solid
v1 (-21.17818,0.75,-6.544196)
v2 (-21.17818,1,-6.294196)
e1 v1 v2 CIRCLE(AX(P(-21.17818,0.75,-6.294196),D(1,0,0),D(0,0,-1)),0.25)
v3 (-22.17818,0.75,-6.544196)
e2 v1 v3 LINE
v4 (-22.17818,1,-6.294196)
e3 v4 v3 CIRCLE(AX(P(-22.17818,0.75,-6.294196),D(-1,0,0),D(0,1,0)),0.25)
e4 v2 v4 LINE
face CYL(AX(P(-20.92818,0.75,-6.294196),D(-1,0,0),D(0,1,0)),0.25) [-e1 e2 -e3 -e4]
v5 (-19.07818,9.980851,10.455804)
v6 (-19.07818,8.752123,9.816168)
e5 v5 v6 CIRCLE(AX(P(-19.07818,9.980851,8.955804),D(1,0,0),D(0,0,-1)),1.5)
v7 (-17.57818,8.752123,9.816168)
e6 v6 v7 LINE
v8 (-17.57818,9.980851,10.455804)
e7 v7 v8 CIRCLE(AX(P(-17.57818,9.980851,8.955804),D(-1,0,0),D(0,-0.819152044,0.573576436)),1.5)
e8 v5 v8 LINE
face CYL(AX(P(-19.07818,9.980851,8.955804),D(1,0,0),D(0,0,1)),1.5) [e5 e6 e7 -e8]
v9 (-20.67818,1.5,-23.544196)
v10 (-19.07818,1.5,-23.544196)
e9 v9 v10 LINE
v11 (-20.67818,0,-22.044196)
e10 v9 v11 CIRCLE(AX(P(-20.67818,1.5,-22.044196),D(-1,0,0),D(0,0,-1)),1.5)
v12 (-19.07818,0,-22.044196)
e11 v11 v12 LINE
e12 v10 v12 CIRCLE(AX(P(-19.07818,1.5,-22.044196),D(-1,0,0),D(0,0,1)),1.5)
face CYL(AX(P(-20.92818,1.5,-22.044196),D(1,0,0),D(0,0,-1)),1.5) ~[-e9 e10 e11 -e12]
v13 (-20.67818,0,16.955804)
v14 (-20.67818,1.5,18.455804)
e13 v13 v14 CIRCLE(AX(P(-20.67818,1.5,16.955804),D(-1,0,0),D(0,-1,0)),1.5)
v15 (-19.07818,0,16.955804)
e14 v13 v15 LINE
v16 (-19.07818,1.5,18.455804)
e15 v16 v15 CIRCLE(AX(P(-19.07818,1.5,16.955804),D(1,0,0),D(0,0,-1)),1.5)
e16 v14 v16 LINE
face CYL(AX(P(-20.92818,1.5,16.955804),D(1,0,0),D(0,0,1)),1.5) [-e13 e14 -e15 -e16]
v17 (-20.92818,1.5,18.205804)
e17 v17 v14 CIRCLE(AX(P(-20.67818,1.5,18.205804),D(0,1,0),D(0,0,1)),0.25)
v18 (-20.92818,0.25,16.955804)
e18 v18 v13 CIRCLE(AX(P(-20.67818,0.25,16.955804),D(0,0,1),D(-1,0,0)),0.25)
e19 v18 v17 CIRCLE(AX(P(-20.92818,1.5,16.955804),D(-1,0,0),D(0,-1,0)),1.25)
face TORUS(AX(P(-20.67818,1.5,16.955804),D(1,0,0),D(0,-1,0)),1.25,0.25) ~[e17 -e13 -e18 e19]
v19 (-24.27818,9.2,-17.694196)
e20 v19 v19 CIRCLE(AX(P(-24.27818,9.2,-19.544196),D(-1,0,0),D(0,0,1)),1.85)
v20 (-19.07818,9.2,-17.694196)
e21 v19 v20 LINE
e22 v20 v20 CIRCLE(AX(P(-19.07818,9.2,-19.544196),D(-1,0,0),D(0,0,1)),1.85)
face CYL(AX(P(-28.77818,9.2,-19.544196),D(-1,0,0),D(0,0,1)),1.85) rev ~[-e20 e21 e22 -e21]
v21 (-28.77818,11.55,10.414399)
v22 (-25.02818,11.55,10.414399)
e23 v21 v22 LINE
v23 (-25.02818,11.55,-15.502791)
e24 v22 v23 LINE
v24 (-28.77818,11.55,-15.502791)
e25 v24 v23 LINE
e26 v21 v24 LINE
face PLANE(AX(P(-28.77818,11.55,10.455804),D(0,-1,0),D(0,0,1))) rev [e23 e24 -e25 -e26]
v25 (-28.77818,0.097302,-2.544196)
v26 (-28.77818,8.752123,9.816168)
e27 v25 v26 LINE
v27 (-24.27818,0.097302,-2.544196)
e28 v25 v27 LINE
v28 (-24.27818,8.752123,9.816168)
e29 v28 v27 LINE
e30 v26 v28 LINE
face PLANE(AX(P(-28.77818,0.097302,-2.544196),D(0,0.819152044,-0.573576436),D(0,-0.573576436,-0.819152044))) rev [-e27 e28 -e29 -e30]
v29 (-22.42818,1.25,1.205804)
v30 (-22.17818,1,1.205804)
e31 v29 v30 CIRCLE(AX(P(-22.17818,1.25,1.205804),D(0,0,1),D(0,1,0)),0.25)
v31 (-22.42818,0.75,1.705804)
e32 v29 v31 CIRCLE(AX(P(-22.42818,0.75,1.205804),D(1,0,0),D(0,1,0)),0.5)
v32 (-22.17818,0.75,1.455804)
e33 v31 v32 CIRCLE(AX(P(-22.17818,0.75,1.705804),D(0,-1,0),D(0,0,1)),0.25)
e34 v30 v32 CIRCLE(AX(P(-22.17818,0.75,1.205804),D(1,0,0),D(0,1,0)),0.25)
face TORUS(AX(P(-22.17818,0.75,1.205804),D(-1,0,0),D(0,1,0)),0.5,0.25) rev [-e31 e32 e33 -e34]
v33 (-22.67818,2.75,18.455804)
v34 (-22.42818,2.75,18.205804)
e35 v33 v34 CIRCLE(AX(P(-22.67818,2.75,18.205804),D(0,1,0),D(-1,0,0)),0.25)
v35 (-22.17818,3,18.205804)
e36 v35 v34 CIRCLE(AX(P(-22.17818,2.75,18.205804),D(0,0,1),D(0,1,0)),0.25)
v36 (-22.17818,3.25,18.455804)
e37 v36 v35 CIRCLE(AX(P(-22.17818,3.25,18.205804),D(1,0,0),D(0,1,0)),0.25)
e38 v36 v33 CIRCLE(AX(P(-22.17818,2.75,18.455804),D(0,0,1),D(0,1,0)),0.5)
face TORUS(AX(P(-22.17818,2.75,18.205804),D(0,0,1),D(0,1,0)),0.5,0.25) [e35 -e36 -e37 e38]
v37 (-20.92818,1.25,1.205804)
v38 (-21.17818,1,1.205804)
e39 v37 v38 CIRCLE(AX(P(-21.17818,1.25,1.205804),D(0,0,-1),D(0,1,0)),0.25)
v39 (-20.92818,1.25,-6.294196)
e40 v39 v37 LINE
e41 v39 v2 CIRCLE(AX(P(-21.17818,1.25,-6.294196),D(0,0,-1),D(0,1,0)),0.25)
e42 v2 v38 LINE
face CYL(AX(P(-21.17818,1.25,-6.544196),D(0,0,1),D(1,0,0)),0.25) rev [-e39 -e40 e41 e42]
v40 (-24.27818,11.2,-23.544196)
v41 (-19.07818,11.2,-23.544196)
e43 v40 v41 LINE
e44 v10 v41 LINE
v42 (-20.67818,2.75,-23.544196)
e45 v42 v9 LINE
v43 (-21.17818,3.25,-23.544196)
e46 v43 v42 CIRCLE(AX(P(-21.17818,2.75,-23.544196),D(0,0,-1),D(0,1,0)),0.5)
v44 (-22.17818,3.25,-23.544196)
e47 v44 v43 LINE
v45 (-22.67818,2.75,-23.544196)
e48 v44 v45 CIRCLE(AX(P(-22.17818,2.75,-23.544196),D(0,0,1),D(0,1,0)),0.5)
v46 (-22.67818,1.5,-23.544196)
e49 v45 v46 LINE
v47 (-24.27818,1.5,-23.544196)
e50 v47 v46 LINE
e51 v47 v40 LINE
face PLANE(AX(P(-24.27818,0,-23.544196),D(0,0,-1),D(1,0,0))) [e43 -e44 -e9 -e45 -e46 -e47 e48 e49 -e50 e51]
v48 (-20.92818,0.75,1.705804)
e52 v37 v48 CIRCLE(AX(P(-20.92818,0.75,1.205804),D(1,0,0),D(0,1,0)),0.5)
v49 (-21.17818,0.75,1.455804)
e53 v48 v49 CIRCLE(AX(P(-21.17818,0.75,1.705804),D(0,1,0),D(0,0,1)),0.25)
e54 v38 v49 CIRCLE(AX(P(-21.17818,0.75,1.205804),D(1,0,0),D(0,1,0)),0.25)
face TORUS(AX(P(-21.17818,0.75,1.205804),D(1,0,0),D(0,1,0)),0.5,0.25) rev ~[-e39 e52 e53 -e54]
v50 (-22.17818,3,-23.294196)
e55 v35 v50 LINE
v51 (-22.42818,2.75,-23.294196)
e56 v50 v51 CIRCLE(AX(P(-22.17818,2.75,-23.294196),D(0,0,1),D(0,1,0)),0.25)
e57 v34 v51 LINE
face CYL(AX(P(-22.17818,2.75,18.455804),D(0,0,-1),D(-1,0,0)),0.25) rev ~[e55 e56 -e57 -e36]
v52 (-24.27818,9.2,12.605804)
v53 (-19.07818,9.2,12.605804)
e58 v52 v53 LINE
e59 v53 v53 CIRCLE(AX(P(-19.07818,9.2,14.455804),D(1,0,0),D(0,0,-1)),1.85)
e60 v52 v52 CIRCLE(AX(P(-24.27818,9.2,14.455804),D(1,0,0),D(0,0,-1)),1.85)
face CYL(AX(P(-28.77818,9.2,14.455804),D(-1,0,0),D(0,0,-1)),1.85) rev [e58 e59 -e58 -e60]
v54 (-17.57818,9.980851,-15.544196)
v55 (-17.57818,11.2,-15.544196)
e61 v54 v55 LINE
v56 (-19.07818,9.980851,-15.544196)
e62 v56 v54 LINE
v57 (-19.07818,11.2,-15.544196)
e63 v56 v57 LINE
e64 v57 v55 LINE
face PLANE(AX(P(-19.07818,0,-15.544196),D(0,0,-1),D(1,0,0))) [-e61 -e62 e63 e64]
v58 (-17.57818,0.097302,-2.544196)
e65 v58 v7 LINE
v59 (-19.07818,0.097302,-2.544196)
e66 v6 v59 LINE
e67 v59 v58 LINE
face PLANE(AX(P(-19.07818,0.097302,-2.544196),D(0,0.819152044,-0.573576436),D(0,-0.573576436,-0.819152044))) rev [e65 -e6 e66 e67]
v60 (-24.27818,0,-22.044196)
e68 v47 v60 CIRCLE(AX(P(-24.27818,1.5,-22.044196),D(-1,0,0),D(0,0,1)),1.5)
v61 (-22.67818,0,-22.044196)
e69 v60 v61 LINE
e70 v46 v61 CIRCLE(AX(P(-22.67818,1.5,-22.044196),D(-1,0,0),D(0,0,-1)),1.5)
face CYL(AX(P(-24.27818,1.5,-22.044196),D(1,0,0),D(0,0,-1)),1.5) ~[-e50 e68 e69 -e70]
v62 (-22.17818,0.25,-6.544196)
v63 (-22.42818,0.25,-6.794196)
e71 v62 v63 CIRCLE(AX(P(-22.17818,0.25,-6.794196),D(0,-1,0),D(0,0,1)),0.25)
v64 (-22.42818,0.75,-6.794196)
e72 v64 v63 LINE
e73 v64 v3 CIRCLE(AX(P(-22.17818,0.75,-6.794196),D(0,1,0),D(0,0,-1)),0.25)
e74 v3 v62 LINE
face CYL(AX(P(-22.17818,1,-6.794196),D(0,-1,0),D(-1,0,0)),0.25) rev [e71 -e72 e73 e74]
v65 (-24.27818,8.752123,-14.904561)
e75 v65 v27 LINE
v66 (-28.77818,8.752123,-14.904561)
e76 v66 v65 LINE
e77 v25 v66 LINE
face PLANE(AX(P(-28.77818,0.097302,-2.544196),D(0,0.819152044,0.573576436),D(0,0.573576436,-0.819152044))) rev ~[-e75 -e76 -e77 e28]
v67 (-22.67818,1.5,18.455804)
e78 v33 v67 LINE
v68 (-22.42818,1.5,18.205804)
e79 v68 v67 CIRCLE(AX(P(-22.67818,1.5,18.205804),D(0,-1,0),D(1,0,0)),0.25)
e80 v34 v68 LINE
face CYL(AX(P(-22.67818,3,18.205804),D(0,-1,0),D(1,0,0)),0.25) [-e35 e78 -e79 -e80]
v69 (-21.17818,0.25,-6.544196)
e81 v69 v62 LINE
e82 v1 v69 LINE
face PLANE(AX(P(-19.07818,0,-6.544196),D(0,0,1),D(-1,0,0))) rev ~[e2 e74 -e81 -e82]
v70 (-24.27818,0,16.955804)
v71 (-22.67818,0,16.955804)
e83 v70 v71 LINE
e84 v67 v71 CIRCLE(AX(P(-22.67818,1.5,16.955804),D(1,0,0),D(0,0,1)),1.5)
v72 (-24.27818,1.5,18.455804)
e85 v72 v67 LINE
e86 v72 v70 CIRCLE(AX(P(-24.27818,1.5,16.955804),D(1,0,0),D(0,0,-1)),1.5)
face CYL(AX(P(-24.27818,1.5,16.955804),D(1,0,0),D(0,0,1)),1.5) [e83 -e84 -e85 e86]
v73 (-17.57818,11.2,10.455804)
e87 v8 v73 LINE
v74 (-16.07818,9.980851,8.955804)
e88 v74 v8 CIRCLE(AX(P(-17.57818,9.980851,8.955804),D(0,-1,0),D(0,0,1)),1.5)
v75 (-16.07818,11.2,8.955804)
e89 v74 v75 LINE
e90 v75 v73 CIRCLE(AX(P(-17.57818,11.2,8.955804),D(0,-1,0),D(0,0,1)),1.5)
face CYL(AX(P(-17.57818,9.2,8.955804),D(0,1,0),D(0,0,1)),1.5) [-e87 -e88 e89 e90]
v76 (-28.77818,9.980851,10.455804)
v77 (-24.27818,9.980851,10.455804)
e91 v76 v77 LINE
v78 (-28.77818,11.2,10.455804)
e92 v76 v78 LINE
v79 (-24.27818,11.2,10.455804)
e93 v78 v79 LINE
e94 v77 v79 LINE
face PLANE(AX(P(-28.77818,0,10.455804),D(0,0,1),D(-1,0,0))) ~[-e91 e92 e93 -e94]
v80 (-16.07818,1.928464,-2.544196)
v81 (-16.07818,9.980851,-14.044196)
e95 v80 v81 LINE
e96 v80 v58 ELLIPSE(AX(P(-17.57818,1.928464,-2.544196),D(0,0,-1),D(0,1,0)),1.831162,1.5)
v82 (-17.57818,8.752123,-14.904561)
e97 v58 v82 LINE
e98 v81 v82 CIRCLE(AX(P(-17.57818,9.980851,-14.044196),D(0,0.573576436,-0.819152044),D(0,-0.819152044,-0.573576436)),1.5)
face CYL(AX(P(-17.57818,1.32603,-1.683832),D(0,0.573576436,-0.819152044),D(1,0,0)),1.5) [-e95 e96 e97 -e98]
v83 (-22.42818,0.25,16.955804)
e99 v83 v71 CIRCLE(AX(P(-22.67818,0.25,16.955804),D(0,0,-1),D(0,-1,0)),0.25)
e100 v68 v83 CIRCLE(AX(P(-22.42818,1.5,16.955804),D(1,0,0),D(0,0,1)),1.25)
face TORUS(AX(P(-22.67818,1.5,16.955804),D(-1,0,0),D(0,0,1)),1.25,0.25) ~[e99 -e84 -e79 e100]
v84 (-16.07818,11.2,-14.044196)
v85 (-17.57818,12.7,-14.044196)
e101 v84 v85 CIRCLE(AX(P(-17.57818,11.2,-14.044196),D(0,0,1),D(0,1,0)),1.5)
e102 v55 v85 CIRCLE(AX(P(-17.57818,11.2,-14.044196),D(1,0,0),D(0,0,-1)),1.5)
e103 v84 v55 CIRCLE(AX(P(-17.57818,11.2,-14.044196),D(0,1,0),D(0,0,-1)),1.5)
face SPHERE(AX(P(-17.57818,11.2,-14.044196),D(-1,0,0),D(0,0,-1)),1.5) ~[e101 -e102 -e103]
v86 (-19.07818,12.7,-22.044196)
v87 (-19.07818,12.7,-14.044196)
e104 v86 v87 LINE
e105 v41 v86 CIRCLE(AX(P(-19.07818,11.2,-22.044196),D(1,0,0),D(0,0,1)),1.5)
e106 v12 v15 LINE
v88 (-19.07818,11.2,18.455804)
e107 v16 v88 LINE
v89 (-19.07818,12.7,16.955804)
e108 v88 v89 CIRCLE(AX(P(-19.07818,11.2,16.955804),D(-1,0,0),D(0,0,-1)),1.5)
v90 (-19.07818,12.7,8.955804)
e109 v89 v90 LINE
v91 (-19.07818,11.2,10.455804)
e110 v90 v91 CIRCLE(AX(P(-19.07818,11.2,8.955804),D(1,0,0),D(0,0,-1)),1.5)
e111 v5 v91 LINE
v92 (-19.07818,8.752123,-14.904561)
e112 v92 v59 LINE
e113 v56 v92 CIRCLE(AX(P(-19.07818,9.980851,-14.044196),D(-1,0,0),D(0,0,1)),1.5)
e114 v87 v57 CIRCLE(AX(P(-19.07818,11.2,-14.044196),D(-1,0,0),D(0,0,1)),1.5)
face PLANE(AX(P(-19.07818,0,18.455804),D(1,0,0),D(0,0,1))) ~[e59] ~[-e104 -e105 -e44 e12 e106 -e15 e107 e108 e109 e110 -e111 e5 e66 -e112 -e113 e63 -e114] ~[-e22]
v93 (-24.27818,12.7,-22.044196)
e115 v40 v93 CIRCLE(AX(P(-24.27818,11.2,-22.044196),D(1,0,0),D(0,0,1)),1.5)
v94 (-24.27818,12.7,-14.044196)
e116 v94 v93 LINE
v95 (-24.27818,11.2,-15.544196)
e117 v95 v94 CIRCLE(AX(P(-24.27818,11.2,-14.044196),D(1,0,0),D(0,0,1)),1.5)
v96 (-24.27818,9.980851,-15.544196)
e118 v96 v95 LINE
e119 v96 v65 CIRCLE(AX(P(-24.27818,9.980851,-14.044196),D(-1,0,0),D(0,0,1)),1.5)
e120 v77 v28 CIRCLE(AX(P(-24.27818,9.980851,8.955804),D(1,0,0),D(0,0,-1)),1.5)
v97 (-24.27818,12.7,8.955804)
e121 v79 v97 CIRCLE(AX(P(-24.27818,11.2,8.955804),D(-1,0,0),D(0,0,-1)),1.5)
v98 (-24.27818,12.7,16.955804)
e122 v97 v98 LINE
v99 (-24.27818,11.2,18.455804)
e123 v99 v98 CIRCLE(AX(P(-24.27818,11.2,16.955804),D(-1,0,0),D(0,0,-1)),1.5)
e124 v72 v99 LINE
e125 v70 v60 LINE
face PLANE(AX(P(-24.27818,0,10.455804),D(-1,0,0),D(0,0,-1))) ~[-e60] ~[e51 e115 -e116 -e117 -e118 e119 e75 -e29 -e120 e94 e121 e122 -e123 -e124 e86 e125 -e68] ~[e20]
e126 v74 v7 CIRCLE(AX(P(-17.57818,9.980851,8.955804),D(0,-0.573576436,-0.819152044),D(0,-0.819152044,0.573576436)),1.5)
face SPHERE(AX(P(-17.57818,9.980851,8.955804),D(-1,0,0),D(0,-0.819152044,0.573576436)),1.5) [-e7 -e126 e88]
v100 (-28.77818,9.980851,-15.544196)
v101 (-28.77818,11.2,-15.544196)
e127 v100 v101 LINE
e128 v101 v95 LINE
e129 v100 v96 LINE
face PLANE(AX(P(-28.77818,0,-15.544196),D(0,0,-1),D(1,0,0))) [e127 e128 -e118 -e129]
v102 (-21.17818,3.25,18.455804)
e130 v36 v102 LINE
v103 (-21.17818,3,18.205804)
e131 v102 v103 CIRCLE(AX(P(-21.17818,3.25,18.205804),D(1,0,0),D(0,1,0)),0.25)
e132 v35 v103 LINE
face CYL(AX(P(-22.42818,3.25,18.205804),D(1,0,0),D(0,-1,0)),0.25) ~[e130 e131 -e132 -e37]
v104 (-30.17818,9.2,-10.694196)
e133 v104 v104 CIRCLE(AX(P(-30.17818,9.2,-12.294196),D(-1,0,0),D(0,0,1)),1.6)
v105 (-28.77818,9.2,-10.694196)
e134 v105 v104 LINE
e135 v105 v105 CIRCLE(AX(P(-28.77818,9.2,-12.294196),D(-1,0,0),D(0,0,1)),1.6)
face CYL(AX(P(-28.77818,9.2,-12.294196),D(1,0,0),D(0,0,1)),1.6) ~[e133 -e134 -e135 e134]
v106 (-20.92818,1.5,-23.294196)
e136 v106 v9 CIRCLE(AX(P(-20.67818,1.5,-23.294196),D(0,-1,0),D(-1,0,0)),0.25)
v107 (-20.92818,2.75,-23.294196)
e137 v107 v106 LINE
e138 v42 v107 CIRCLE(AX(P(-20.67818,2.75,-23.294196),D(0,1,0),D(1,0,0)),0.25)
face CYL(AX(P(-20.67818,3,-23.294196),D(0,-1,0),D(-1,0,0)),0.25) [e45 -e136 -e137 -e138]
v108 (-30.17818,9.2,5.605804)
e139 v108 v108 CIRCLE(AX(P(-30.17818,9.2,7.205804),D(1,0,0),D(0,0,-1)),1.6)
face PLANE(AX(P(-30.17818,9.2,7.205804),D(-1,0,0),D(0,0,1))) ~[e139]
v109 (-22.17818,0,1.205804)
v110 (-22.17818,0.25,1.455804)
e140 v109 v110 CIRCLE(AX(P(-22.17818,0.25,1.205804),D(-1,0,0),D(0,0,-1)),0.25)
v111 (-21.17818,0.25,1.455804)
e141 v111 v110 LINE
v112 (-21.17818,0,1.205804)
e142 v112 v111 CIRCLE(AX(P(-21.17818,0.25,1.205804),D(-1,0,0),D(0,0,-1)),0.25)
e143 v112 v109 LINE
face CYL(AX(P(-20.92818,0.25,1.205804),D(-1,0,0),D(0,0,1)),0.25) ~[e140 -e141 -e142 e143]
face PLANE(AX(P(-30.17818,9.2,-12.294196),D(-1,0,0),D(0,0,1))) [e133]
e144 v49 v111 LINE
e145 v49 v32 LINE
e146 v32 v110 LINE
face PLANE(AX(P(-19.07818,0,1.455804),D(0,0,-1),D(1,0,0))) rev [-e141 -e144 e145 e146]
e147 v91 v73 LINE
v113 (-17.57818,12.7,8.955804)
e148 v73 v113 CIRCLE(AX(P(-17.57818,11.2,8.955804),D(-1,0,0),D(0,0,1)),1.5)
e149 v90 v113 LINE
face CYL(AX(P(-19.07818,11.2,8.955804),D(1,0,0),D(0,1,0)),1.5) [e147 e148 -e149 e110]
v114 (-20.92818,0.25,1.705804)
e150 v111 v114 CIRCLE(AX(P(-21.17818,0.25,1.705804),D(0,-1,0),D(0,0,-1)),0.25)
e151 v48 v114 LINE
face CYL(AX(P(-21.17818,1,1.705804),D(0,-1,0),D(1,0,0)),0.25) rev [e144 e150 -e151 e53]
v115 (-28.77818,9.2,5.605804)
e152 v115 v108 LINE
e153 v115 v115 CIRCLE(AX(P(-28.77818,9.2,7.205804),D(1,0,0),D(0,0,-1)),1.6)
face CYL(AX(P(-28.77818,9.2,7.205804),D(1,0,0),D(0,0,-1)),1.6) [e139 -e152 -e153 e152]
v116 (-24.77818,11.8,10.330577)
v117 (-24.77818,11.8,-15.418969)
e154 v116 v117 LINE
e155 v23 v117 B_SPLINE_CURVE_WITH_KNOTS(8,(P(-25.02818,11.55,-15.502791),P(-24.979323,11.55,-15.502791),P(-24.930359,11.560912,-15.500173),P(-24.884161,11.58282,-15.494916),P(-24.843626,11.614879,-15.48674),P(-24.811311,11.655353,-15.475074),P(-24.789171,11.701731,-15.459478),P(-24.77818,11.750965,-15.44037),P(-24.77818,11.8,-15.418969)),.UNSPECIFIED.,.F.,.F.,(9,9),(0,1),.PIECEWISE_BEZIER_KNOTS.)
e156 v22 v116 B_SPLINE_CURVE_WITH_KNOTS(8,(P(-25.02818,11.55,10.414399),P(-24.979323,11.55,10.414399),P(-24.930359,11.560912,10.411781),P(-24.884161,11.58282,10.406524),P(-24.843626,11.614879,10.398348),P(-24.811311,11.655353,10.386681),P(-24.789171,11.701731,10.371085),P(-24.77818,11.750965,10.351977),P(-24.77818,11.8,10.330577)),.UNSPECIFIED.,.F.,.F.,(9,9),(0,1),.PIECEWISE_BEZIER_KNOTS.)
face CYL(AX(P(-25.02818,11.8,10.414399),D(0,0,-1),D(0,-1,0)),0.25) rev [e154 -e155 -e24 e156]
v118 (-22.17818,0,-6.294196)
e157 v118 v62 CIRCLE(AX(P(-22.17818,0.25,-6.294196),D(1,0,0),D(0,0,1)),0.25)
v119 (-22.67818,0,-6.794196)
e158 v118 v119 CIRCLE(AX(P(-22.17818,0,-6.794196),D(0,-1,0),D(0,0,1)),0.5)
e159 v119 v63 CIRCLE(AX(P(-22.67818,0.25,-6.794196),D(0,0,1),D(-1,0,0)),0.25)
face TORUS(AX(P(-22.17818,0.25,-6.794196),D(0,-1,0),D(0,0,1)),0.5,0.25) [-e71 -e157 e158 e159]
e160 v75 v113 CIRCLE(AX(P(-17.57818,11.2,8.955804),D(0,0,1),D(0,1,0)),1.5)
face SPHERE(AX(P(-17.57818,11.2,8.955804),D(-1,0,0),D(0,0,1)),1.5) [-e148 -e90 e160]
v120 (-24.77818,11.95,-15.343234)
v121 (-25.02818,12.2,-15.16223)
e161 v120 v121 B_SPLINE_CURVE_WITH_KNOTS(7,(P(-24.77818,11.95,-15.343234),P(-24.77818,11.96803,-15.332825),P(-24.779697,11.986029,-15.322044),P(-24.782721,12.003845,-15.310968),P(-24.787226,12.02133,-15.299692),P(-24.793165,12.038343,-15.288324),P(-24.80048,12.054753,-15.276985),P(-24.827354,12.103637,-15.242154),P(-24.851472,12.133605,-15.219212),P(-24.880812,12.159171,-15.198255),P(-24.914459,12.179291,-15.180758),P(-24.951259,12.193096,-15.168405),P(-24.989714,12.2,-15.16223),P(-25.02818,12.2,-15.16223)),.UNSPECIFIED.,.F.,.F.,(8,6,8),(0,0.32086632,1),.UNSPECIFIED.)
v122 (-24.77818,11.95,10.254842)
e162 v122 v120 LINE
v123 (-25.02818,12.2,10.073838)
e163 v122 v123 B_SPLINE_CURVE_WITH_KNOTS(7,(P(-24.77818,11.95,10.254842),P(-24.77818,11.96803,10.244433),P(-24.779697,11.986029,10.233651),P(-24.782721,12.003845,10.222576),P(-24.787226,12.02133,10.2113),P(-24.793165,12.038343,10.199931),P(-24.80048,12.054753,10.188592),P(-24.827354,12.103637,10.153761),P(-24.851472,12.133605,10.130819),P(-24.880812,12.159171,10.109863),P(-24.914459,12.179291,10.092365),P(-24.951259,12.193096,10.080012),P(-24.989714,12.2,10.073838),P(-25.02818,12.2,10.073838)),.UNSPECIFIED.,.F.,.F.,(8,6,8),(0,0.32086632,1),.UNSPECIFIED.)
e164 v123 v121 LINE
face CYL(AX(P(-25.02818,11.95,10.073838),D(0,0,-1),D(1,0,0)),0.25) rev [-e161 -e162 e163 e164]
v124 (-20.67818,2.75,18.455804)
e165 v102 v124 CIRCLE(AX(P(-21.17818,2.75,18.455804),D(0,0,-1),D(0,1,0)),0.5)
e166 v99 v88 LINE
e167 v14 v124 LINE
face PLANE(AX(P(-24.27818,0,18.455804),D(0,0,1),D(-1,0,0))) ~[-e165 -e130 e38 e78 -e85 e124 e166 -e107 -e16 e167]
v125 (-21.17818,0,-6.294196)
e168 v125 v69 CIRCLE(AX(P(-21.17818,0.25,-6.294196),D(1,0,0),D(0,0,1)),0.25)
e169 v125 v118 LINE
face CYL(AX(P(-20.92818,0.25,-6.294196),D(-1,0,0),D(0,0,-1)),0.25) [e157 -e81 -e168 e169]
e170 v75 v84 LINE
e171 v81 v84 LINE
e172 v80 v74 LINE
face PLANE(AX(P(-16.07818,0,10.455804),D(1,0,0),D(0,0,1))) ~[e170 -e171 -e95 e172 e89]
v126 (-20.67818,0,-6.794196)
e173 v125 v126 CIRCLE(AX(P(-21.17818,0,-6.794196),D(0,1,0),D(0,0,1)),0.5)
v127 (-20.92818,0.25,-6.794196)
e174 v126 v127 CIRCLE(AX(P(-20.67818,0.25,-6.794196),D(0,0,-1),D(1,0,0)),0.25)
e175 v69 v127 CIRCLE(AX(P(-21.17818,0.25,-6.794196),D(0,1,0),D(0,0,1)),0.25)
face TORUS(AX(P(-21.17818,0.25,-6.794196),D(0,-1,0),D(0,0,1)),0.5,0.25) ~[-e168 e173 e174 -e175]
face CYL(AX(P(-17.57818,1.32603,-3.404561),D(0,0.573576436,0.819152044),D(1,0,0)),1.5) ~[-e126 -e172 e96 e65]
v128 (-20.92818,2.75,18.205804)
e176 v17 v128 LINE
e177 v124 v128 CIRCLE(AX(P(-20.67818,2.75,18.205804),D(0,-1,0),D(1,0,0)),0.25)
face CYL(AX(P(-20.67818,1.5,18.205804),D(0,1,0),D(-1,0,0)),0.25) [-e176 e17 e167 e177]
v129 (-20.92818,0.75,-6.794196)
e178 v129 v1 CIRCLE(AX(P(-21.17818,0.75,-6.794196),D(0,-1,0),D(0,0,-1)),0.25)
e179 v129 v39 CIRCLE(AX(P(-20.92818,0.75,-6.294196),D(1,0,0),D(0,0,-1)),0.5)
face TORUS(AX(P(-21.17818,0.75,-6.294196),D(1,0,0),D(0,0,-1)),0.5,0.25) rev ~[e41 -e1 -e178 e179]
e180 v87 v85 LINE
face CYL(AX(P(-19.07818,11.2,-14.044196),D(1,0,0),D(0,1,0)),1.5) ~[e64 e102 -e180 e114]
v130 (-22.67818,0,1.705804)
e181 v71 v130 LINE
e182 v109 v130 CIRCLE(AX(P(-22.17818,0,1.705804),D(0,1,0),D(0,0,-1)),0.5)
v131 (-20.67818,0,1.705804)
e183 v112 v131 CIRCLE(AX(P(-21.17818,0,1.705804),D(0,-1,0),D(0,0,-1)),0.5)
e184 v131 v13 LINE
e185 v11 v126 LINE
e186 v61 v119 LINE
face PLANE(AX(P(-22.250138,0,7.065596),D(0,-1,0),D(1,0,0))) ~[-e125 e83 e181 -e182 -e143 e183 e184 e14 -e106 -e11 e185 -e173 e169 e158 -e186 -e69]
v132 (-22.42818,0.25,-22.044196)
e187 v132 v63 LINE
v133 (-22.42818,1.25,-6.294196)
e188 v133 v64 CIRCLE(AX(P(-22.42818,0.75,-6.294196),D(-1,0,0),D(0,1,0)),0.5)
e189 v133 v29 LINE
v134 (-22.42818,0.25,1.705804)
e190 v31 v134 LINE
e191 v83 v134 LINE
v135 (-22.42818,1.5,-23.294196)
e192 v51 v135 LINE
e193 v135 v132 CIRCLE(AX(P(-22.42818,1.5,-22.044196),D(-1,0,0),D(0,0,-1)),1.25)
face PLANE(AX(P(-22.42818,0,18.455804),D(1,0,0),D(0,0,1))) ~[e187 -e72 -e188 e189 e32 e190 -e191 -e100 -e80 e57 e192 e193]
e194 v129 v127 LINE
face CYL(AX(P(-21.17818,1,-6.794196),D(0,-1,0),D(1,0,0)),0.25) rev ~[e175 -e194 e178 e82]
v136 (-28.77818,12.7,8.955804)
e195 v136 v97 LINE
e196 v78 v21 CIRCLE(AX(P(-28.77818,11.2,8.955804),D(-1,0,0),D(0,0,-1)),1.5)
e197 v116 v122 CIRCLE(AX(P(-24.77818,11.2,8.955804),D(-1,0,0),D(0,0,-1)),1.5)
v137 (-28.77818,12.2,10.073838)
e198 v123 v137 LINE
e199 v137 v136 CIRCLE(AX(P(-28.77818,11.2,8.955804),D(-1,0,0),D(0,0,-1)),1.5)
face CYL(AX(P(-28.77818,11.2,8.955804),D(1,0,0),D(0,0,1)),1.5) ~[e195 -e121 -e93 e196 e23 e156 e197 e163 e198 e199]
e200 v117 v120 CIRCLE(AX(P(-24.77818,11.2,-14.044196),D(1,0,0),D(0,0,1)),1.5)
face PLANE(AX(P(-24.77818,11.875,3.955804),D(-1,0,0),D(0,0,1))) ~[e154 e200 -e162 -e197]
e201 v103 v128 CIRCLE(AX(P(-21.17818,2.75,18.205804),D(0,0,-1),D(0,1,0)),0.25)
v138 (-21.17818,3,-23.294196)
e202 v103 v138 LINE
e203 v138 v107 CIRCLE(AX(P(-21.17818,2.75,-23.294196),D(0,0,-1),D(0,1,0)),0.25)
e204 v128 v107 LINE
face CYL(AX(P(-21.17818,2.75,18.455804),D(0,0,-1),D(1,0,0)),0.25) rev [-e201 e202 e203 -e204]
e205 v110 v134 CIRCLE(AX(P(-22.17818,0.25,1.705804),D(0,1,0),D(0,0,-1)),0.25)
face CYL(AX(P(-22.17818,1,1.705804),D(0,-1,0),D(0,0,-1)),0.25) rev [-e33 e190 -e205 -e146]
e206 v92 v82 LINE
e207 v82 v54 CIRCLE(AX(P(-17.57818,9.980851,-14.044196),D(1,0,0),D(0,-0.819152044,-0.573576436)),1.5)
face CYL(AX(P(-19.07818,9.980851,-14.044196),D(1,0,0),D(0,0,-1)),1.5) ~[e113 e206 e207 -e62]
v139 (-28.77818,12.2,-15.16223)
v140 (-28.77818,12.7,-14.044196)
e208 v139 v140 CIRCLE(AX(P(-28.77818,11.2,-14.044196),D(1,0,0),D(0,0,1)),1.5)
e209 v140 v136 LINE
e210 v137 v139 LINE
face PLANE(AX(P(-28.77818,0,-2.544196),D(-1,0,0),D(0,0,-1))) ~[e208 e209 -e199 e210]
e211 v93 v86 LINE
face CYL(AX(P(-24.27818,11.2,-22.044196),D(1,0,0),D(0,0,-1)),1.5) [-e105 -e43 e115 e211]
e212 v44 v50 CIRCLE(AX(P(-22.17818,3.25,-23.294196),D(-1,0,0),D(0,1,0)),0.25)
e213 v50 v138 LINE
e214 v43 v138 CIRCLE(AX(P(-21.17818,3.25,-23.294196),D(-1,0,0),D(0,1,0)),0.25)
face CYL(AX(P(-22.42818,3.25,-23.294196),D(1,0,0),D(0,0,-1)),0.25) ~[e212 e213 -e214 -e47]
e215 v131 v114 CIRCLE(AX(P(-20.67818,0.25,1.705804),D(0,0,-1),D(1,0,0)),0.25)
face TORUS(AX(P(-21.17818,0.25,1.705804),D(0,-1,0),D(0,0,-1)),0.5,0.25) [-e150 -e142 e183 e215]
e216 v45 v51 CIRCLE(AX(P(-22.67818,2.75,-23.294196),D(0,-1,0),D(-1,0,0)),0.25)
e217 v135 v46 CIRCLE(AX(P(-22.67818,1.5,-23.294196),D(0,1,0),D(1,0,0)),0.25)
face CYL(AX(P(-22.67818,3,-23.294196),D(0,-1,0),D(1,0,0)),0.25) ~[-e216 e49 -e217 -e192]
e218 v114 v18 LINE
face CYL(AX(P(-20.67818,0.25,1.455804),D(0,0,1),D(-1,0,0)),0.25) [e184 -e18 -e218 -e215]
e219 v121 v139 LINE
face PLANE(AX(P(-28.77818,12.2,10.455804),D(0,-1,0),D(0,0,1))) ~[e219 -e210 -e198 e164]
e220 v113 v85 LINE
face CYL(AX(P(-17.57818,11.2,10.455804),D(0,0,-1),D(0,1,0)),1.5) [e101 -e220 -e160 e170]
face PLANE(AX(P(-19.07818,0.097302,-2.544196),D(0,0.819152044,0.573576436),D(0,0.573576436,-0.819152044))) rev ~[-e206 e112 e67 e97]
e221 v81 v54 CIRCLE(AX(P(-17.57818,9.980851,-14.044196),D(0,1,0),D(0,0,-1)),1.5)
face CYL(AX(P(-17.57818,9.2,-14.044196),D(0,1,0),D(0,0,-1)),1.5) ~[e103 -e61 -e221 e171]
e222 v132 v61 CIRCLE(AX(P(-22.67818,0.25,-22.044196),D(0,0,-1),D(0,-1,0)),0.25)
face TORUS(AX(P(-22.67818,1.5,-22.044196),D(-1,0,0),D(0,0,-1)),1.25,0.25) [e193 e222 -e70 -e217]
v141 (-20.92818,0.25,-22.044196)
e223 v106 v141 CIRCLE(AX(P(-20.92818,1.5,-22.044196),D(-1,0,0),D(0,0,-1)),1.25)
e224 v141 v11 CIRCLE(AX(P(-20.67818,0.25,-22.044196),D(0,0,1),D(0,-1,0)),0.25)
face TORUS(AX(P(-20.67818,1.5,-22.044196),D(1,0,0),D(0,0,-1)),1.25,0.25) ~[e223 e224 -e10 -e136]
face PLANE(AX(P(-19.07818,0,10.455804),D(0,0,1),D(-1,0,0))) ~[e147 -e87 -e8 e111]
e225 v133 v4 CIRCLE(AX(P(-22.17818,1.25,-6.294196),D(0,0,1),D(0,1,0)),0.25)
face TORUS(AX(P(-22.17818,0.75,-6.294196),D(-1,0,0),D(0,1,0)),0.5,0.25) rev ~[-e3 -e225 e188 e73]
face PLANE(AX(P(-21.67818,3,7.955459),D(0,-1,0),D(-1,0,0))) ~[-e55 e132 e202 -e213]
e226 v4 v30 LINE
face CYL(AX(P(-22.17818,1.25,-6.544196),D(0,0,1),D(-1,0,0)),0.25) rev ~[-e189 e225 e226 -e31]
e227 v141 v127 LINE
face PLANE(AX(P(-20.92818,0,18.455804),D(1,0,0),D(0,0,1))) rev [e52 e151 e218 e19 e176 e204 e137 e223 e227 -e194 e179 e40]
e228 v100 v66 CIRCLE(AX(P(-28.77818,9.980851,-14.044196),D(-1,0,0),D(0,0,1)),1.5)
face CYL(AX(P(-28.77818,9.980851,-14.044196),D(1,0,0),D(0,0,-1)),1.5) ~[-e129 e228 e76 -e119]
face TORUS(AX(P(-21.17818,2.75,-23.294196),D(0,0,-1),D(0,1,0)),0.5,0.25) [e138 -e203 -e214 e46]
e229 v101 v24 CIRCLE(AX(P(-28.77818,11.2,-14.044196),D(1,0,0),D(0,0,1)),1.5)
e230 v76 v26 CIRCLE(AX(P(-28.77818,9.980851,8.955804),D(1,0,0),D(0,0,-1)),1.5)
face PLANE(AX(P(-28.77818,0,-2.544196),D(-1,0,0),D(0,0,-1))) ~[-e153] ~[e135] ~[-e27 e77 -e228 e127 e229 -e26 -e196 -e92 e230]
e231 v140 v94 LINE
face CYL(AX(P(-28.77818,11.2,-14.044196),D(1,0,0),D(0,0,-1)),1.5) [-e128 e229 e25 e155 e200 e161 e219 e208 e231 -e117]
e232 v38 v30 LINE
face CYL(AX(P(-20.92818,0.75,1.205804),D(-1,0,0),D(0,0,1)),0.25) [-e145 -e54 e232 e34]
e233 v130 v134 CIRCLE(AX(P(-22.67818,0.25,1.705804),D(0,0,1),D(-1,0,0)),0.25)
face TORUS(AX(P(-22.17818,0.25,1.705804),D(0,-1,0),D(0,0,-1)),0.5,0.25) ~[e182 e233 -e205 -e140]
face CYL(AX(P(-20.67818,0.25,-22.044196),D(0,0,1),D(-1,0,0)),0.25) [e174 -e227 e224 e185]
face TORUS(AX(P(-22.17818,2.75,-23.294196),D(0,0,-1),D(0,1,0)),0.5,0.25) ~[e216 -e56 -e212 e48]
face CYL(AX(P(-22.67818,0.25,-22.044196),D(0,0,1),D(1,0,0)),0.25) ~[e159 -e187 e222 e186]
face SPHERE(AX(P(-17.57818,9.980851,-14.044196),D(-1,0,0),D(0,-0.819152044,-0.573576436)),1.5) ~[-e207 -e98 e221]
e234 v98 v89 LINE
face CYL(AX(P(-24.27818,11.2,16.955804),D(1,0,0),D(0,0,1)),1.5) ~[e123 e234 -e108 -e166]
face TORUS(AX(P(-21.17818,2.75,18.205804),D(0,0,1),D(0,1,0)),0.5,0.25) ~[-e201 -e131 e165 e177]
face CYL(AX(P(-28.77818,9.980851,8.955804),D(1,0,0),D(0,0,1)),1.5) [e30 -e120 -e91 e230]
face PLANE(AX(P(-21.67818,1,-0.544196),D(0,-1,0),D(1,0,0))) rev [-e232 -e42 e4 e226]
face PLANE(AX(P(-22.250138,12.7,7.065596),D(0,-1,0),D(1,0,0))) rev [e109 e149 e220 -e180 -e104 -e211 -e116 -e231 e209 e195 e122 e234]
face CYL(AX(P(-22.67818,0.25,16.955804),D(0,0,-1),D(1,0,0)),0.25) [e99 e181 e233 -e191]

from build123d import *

# Parameters (mm, degrees)
BOSS_EXTRUDE1_DEPTH     = 12.7
SKETCH7_W               = 13
SKETCH7_H               = 0.65
CUT_EXTRUDE2_DEPTH      = 4
SKETCH7_4_R             = 1.6
BOSS_EXTRUDE2_DEPTH     = 1.4
CUT_EXTRUDE3_DEPTH      = 4.5
SKETCH7_6_R             = 1.85
CUT_EXTRUDE4_DEPTH      = 2.4
CUT_EXTRUDE4_DEPTH_BACK = 13.7
CUT_EXTRUDE5_DEPTH      = 3
SKETCH12_W              = 1.5
SKETCH12_H              = 21.000689182
CUT_EXTRUDE6_DEPTH      = 3
SKETCH14_W              = 5.2
SKETCH14_H              = 4
BOSS_EXTRUDE3_DEPTH     = 1
FILLET3_R               = 1.5
FILLET4_R               = 0.25


with BuildPart() as part:
    # Sketch1 → Boss-Extrude1 (new body)
    with BuildSketch(Plane(origin=(0, 0, 0), x_dir=(1, 0, 0), z_dir=(0, 1, 0))):
        Polygon((-28.77817965, 15.54419618), (-24.27817965, 15.54419618), (-24.27817965, 23.54419618), (-19.07817965, 23.54419618), (-19.07817965, 15.54419618), (-16.07817965, 15.54419618), (-16.07817965, 2.54419618), (-28.77817965, 2.54419618), align=None)
    extrude(amount=BOSS_EXTRUDE1_DEPTH)

    # Sketch7 → Cut-Extrude2 (cut)
    with BuildSketch(Plane.ZY.offset(28.77817965)):
        with Locations((-9.04419618, 11.875)):
            Rectangle(SKETCH7_W, SKETCH7_H)
    extrude(amount=-CUT_EXTRUDE2_DEPTH, mode=Mode.SUBTRACT)

    # Sketch7<4> → Boss-Extrude2 (add)
    with BuildSketch(Plane.ZY.offset(28.77817965)):
        with Locations((-12.29419618, 9.2)):
            Circle(SKETCH7_4_R)
    extrude(amount=BOSS_EXTRUDE2_DEPTH)

    # Sketch7<5> → Cut-Extrude3 (cut)
    with BuildSketch(Plane.ZY.offset(28.77817965)):
        Polygon((-2.54419618, 0.097302003), (-15.54419618, 9.2), (-15.54419618, 0), (-2.54419618, 0), align=None)
    extrude(amount=-CUT_EXTRUDE3_DEPTH, mode=Mode.SUBTRACT)

    # Sketch7<6> → Cut-Extrude4 (cut, two sides)
    with BuildSketch(Plane.ZY.offset(28.77817965)) as cut_extrude4_sk:
        with Locations((-19.54419618, 9.2)):
            Circle(SKETCH7_6_R)
    extrude(amount=CUT_EXTRUDE4_DEPTH, mode=Mode.SUBTRACT)
    extrude(cut_extrude4_sk.sketch, amount=-CUT_EXTRUDE4_DEPTH_BACK, mode=Mode.SUBTRACT)

    # Sketch10 → Cut-Extrude5 (cut)
    with BuildSketch(Plane(origin=(-19.07817965, 0, 0), x_dir=(0, 0, -1), z_dir=(1, 0, 0))):
        Polygon((15.54419618, 9.2), (15.54419618, 0), (2.54419618, 0), (2.54419618, 0.097302003), align=None)
    extrude(amount=CUT_EXTRUDE5_DEPTH, mode=Mode.SUBTRACT)

    # Sketch12 → Cut-Extrude6 (cut)
    with BuildSketch(Plane.XZ):
        with Locations((-21.67817965, -13.043851589)):
            Rectangle(SKETCH12_W, SKETCH12_H)
    extrude(amount=-CUT_EXTRUDE6_DEPTH, mode=Mode.SUBTRACT)

    # Sketch14 → Boss-Extrude3 (add)
    with BuildSketch(Plane(origin=(0, 0, 0), x_dir=(-1, 0, 0), z_dir=(0, -1, 0))):
        with Locations((21.67817965, 4.54419618)):
            Rectangle(SKETCH14_W, SKETCH14_H)
    extrude(amount=-BOSS_EXTRUDE3_DEPTH)

    # Fillet3
    fillet3_edges = [part.edges().sort_by_distance(p)[0] for p in [
        (-26.52817965, 9.2, -15.54419618),
        (-17.57817965, 9.2, -15.54419618),
        (-26.52817965, 12.7, -15.54419618),
        (-17.57817965, 12.7, -15.54419618),
        (-16.07817965, 4.648651002, -9.04419618),
        (-16.07817965, 10.95, -15.54419618),
        (-16.07817965, 12.7, -9.04419618),
        (-21.67817965, 12.7, -23.54419618),
        (-23.35317965, 0, -23.54419618),
        (-20.00317965, 0, -23.54419618),
    ]]
    fillet(fillet3_edges, radius=FILLET3_R)

    # Mirror3: part across plane


with BuildPart() as part_1:
    add(part.part)
    add(part.part.mirror(Plane(origin=(-16.07817965, 12.7, -2.54419618), x_dir=(1, 0, 0), z_dir=(0, 0, -1))))

    # Fillet4
    fillet4_edges = [part_1.edges().sort_by_distance(p)[0] for p in [
        (-22.42817965, 0, -14.29419618),
        (-22.42817965, 1, -2.54419618),
        (-22.42817965, 0.5, -6.54419618),
        (-21.67817965, 1, -6.54419618),
        (-20.92817965, 0.5, -6.54419618),
        (-20.92817965, 1, -2.54419618),
        (-21.67817965, 0, -6.54419618),
        (-20.92817965, 0, -14.29419618),
        (-22.42817965, 0.439339828, -23.104856352),
        (-20.92817965, 0.439339828, -23.104856352),
        (-24.77817965, 11.55, -2.54419618),
        (-21.67817965, 3, 18.45580382),
        (-20.92817965, 2.25, 18.45580382),
        (-20.92817965, 0, 9.20580382),
        (-22.42817965, 0, 9.20580382),
        (-22.42817965, 2.25, 18.45580382),
        (-20.92817965, 0.5, 1.45580382),
        (-22.42817965, 0.5, 1.45580382),
        (-21.67817965, 0, 1.45580382),
        (-21.67817965, 1, 1.45580382),
        (-22.42817965, 0.439339828, 18.016463992),
        (-20.92817965, 0.439339828, 18.016463992),
        (-24.77817965, 12.2, -2.54419618),
        (-20.92817965, 3, -2.54419618),
        (-22.42817965, 3, -2.54419618),
        (-22.42817965, 2.25, -23.54419618),
        (-21.67817965, 3, -23.54419618),
        (-20.92817965, 2.25, -23.54419618),
    ]]
    fillet(fillet4_edges, radius=FILLET4_R)


solid = part_1.part
